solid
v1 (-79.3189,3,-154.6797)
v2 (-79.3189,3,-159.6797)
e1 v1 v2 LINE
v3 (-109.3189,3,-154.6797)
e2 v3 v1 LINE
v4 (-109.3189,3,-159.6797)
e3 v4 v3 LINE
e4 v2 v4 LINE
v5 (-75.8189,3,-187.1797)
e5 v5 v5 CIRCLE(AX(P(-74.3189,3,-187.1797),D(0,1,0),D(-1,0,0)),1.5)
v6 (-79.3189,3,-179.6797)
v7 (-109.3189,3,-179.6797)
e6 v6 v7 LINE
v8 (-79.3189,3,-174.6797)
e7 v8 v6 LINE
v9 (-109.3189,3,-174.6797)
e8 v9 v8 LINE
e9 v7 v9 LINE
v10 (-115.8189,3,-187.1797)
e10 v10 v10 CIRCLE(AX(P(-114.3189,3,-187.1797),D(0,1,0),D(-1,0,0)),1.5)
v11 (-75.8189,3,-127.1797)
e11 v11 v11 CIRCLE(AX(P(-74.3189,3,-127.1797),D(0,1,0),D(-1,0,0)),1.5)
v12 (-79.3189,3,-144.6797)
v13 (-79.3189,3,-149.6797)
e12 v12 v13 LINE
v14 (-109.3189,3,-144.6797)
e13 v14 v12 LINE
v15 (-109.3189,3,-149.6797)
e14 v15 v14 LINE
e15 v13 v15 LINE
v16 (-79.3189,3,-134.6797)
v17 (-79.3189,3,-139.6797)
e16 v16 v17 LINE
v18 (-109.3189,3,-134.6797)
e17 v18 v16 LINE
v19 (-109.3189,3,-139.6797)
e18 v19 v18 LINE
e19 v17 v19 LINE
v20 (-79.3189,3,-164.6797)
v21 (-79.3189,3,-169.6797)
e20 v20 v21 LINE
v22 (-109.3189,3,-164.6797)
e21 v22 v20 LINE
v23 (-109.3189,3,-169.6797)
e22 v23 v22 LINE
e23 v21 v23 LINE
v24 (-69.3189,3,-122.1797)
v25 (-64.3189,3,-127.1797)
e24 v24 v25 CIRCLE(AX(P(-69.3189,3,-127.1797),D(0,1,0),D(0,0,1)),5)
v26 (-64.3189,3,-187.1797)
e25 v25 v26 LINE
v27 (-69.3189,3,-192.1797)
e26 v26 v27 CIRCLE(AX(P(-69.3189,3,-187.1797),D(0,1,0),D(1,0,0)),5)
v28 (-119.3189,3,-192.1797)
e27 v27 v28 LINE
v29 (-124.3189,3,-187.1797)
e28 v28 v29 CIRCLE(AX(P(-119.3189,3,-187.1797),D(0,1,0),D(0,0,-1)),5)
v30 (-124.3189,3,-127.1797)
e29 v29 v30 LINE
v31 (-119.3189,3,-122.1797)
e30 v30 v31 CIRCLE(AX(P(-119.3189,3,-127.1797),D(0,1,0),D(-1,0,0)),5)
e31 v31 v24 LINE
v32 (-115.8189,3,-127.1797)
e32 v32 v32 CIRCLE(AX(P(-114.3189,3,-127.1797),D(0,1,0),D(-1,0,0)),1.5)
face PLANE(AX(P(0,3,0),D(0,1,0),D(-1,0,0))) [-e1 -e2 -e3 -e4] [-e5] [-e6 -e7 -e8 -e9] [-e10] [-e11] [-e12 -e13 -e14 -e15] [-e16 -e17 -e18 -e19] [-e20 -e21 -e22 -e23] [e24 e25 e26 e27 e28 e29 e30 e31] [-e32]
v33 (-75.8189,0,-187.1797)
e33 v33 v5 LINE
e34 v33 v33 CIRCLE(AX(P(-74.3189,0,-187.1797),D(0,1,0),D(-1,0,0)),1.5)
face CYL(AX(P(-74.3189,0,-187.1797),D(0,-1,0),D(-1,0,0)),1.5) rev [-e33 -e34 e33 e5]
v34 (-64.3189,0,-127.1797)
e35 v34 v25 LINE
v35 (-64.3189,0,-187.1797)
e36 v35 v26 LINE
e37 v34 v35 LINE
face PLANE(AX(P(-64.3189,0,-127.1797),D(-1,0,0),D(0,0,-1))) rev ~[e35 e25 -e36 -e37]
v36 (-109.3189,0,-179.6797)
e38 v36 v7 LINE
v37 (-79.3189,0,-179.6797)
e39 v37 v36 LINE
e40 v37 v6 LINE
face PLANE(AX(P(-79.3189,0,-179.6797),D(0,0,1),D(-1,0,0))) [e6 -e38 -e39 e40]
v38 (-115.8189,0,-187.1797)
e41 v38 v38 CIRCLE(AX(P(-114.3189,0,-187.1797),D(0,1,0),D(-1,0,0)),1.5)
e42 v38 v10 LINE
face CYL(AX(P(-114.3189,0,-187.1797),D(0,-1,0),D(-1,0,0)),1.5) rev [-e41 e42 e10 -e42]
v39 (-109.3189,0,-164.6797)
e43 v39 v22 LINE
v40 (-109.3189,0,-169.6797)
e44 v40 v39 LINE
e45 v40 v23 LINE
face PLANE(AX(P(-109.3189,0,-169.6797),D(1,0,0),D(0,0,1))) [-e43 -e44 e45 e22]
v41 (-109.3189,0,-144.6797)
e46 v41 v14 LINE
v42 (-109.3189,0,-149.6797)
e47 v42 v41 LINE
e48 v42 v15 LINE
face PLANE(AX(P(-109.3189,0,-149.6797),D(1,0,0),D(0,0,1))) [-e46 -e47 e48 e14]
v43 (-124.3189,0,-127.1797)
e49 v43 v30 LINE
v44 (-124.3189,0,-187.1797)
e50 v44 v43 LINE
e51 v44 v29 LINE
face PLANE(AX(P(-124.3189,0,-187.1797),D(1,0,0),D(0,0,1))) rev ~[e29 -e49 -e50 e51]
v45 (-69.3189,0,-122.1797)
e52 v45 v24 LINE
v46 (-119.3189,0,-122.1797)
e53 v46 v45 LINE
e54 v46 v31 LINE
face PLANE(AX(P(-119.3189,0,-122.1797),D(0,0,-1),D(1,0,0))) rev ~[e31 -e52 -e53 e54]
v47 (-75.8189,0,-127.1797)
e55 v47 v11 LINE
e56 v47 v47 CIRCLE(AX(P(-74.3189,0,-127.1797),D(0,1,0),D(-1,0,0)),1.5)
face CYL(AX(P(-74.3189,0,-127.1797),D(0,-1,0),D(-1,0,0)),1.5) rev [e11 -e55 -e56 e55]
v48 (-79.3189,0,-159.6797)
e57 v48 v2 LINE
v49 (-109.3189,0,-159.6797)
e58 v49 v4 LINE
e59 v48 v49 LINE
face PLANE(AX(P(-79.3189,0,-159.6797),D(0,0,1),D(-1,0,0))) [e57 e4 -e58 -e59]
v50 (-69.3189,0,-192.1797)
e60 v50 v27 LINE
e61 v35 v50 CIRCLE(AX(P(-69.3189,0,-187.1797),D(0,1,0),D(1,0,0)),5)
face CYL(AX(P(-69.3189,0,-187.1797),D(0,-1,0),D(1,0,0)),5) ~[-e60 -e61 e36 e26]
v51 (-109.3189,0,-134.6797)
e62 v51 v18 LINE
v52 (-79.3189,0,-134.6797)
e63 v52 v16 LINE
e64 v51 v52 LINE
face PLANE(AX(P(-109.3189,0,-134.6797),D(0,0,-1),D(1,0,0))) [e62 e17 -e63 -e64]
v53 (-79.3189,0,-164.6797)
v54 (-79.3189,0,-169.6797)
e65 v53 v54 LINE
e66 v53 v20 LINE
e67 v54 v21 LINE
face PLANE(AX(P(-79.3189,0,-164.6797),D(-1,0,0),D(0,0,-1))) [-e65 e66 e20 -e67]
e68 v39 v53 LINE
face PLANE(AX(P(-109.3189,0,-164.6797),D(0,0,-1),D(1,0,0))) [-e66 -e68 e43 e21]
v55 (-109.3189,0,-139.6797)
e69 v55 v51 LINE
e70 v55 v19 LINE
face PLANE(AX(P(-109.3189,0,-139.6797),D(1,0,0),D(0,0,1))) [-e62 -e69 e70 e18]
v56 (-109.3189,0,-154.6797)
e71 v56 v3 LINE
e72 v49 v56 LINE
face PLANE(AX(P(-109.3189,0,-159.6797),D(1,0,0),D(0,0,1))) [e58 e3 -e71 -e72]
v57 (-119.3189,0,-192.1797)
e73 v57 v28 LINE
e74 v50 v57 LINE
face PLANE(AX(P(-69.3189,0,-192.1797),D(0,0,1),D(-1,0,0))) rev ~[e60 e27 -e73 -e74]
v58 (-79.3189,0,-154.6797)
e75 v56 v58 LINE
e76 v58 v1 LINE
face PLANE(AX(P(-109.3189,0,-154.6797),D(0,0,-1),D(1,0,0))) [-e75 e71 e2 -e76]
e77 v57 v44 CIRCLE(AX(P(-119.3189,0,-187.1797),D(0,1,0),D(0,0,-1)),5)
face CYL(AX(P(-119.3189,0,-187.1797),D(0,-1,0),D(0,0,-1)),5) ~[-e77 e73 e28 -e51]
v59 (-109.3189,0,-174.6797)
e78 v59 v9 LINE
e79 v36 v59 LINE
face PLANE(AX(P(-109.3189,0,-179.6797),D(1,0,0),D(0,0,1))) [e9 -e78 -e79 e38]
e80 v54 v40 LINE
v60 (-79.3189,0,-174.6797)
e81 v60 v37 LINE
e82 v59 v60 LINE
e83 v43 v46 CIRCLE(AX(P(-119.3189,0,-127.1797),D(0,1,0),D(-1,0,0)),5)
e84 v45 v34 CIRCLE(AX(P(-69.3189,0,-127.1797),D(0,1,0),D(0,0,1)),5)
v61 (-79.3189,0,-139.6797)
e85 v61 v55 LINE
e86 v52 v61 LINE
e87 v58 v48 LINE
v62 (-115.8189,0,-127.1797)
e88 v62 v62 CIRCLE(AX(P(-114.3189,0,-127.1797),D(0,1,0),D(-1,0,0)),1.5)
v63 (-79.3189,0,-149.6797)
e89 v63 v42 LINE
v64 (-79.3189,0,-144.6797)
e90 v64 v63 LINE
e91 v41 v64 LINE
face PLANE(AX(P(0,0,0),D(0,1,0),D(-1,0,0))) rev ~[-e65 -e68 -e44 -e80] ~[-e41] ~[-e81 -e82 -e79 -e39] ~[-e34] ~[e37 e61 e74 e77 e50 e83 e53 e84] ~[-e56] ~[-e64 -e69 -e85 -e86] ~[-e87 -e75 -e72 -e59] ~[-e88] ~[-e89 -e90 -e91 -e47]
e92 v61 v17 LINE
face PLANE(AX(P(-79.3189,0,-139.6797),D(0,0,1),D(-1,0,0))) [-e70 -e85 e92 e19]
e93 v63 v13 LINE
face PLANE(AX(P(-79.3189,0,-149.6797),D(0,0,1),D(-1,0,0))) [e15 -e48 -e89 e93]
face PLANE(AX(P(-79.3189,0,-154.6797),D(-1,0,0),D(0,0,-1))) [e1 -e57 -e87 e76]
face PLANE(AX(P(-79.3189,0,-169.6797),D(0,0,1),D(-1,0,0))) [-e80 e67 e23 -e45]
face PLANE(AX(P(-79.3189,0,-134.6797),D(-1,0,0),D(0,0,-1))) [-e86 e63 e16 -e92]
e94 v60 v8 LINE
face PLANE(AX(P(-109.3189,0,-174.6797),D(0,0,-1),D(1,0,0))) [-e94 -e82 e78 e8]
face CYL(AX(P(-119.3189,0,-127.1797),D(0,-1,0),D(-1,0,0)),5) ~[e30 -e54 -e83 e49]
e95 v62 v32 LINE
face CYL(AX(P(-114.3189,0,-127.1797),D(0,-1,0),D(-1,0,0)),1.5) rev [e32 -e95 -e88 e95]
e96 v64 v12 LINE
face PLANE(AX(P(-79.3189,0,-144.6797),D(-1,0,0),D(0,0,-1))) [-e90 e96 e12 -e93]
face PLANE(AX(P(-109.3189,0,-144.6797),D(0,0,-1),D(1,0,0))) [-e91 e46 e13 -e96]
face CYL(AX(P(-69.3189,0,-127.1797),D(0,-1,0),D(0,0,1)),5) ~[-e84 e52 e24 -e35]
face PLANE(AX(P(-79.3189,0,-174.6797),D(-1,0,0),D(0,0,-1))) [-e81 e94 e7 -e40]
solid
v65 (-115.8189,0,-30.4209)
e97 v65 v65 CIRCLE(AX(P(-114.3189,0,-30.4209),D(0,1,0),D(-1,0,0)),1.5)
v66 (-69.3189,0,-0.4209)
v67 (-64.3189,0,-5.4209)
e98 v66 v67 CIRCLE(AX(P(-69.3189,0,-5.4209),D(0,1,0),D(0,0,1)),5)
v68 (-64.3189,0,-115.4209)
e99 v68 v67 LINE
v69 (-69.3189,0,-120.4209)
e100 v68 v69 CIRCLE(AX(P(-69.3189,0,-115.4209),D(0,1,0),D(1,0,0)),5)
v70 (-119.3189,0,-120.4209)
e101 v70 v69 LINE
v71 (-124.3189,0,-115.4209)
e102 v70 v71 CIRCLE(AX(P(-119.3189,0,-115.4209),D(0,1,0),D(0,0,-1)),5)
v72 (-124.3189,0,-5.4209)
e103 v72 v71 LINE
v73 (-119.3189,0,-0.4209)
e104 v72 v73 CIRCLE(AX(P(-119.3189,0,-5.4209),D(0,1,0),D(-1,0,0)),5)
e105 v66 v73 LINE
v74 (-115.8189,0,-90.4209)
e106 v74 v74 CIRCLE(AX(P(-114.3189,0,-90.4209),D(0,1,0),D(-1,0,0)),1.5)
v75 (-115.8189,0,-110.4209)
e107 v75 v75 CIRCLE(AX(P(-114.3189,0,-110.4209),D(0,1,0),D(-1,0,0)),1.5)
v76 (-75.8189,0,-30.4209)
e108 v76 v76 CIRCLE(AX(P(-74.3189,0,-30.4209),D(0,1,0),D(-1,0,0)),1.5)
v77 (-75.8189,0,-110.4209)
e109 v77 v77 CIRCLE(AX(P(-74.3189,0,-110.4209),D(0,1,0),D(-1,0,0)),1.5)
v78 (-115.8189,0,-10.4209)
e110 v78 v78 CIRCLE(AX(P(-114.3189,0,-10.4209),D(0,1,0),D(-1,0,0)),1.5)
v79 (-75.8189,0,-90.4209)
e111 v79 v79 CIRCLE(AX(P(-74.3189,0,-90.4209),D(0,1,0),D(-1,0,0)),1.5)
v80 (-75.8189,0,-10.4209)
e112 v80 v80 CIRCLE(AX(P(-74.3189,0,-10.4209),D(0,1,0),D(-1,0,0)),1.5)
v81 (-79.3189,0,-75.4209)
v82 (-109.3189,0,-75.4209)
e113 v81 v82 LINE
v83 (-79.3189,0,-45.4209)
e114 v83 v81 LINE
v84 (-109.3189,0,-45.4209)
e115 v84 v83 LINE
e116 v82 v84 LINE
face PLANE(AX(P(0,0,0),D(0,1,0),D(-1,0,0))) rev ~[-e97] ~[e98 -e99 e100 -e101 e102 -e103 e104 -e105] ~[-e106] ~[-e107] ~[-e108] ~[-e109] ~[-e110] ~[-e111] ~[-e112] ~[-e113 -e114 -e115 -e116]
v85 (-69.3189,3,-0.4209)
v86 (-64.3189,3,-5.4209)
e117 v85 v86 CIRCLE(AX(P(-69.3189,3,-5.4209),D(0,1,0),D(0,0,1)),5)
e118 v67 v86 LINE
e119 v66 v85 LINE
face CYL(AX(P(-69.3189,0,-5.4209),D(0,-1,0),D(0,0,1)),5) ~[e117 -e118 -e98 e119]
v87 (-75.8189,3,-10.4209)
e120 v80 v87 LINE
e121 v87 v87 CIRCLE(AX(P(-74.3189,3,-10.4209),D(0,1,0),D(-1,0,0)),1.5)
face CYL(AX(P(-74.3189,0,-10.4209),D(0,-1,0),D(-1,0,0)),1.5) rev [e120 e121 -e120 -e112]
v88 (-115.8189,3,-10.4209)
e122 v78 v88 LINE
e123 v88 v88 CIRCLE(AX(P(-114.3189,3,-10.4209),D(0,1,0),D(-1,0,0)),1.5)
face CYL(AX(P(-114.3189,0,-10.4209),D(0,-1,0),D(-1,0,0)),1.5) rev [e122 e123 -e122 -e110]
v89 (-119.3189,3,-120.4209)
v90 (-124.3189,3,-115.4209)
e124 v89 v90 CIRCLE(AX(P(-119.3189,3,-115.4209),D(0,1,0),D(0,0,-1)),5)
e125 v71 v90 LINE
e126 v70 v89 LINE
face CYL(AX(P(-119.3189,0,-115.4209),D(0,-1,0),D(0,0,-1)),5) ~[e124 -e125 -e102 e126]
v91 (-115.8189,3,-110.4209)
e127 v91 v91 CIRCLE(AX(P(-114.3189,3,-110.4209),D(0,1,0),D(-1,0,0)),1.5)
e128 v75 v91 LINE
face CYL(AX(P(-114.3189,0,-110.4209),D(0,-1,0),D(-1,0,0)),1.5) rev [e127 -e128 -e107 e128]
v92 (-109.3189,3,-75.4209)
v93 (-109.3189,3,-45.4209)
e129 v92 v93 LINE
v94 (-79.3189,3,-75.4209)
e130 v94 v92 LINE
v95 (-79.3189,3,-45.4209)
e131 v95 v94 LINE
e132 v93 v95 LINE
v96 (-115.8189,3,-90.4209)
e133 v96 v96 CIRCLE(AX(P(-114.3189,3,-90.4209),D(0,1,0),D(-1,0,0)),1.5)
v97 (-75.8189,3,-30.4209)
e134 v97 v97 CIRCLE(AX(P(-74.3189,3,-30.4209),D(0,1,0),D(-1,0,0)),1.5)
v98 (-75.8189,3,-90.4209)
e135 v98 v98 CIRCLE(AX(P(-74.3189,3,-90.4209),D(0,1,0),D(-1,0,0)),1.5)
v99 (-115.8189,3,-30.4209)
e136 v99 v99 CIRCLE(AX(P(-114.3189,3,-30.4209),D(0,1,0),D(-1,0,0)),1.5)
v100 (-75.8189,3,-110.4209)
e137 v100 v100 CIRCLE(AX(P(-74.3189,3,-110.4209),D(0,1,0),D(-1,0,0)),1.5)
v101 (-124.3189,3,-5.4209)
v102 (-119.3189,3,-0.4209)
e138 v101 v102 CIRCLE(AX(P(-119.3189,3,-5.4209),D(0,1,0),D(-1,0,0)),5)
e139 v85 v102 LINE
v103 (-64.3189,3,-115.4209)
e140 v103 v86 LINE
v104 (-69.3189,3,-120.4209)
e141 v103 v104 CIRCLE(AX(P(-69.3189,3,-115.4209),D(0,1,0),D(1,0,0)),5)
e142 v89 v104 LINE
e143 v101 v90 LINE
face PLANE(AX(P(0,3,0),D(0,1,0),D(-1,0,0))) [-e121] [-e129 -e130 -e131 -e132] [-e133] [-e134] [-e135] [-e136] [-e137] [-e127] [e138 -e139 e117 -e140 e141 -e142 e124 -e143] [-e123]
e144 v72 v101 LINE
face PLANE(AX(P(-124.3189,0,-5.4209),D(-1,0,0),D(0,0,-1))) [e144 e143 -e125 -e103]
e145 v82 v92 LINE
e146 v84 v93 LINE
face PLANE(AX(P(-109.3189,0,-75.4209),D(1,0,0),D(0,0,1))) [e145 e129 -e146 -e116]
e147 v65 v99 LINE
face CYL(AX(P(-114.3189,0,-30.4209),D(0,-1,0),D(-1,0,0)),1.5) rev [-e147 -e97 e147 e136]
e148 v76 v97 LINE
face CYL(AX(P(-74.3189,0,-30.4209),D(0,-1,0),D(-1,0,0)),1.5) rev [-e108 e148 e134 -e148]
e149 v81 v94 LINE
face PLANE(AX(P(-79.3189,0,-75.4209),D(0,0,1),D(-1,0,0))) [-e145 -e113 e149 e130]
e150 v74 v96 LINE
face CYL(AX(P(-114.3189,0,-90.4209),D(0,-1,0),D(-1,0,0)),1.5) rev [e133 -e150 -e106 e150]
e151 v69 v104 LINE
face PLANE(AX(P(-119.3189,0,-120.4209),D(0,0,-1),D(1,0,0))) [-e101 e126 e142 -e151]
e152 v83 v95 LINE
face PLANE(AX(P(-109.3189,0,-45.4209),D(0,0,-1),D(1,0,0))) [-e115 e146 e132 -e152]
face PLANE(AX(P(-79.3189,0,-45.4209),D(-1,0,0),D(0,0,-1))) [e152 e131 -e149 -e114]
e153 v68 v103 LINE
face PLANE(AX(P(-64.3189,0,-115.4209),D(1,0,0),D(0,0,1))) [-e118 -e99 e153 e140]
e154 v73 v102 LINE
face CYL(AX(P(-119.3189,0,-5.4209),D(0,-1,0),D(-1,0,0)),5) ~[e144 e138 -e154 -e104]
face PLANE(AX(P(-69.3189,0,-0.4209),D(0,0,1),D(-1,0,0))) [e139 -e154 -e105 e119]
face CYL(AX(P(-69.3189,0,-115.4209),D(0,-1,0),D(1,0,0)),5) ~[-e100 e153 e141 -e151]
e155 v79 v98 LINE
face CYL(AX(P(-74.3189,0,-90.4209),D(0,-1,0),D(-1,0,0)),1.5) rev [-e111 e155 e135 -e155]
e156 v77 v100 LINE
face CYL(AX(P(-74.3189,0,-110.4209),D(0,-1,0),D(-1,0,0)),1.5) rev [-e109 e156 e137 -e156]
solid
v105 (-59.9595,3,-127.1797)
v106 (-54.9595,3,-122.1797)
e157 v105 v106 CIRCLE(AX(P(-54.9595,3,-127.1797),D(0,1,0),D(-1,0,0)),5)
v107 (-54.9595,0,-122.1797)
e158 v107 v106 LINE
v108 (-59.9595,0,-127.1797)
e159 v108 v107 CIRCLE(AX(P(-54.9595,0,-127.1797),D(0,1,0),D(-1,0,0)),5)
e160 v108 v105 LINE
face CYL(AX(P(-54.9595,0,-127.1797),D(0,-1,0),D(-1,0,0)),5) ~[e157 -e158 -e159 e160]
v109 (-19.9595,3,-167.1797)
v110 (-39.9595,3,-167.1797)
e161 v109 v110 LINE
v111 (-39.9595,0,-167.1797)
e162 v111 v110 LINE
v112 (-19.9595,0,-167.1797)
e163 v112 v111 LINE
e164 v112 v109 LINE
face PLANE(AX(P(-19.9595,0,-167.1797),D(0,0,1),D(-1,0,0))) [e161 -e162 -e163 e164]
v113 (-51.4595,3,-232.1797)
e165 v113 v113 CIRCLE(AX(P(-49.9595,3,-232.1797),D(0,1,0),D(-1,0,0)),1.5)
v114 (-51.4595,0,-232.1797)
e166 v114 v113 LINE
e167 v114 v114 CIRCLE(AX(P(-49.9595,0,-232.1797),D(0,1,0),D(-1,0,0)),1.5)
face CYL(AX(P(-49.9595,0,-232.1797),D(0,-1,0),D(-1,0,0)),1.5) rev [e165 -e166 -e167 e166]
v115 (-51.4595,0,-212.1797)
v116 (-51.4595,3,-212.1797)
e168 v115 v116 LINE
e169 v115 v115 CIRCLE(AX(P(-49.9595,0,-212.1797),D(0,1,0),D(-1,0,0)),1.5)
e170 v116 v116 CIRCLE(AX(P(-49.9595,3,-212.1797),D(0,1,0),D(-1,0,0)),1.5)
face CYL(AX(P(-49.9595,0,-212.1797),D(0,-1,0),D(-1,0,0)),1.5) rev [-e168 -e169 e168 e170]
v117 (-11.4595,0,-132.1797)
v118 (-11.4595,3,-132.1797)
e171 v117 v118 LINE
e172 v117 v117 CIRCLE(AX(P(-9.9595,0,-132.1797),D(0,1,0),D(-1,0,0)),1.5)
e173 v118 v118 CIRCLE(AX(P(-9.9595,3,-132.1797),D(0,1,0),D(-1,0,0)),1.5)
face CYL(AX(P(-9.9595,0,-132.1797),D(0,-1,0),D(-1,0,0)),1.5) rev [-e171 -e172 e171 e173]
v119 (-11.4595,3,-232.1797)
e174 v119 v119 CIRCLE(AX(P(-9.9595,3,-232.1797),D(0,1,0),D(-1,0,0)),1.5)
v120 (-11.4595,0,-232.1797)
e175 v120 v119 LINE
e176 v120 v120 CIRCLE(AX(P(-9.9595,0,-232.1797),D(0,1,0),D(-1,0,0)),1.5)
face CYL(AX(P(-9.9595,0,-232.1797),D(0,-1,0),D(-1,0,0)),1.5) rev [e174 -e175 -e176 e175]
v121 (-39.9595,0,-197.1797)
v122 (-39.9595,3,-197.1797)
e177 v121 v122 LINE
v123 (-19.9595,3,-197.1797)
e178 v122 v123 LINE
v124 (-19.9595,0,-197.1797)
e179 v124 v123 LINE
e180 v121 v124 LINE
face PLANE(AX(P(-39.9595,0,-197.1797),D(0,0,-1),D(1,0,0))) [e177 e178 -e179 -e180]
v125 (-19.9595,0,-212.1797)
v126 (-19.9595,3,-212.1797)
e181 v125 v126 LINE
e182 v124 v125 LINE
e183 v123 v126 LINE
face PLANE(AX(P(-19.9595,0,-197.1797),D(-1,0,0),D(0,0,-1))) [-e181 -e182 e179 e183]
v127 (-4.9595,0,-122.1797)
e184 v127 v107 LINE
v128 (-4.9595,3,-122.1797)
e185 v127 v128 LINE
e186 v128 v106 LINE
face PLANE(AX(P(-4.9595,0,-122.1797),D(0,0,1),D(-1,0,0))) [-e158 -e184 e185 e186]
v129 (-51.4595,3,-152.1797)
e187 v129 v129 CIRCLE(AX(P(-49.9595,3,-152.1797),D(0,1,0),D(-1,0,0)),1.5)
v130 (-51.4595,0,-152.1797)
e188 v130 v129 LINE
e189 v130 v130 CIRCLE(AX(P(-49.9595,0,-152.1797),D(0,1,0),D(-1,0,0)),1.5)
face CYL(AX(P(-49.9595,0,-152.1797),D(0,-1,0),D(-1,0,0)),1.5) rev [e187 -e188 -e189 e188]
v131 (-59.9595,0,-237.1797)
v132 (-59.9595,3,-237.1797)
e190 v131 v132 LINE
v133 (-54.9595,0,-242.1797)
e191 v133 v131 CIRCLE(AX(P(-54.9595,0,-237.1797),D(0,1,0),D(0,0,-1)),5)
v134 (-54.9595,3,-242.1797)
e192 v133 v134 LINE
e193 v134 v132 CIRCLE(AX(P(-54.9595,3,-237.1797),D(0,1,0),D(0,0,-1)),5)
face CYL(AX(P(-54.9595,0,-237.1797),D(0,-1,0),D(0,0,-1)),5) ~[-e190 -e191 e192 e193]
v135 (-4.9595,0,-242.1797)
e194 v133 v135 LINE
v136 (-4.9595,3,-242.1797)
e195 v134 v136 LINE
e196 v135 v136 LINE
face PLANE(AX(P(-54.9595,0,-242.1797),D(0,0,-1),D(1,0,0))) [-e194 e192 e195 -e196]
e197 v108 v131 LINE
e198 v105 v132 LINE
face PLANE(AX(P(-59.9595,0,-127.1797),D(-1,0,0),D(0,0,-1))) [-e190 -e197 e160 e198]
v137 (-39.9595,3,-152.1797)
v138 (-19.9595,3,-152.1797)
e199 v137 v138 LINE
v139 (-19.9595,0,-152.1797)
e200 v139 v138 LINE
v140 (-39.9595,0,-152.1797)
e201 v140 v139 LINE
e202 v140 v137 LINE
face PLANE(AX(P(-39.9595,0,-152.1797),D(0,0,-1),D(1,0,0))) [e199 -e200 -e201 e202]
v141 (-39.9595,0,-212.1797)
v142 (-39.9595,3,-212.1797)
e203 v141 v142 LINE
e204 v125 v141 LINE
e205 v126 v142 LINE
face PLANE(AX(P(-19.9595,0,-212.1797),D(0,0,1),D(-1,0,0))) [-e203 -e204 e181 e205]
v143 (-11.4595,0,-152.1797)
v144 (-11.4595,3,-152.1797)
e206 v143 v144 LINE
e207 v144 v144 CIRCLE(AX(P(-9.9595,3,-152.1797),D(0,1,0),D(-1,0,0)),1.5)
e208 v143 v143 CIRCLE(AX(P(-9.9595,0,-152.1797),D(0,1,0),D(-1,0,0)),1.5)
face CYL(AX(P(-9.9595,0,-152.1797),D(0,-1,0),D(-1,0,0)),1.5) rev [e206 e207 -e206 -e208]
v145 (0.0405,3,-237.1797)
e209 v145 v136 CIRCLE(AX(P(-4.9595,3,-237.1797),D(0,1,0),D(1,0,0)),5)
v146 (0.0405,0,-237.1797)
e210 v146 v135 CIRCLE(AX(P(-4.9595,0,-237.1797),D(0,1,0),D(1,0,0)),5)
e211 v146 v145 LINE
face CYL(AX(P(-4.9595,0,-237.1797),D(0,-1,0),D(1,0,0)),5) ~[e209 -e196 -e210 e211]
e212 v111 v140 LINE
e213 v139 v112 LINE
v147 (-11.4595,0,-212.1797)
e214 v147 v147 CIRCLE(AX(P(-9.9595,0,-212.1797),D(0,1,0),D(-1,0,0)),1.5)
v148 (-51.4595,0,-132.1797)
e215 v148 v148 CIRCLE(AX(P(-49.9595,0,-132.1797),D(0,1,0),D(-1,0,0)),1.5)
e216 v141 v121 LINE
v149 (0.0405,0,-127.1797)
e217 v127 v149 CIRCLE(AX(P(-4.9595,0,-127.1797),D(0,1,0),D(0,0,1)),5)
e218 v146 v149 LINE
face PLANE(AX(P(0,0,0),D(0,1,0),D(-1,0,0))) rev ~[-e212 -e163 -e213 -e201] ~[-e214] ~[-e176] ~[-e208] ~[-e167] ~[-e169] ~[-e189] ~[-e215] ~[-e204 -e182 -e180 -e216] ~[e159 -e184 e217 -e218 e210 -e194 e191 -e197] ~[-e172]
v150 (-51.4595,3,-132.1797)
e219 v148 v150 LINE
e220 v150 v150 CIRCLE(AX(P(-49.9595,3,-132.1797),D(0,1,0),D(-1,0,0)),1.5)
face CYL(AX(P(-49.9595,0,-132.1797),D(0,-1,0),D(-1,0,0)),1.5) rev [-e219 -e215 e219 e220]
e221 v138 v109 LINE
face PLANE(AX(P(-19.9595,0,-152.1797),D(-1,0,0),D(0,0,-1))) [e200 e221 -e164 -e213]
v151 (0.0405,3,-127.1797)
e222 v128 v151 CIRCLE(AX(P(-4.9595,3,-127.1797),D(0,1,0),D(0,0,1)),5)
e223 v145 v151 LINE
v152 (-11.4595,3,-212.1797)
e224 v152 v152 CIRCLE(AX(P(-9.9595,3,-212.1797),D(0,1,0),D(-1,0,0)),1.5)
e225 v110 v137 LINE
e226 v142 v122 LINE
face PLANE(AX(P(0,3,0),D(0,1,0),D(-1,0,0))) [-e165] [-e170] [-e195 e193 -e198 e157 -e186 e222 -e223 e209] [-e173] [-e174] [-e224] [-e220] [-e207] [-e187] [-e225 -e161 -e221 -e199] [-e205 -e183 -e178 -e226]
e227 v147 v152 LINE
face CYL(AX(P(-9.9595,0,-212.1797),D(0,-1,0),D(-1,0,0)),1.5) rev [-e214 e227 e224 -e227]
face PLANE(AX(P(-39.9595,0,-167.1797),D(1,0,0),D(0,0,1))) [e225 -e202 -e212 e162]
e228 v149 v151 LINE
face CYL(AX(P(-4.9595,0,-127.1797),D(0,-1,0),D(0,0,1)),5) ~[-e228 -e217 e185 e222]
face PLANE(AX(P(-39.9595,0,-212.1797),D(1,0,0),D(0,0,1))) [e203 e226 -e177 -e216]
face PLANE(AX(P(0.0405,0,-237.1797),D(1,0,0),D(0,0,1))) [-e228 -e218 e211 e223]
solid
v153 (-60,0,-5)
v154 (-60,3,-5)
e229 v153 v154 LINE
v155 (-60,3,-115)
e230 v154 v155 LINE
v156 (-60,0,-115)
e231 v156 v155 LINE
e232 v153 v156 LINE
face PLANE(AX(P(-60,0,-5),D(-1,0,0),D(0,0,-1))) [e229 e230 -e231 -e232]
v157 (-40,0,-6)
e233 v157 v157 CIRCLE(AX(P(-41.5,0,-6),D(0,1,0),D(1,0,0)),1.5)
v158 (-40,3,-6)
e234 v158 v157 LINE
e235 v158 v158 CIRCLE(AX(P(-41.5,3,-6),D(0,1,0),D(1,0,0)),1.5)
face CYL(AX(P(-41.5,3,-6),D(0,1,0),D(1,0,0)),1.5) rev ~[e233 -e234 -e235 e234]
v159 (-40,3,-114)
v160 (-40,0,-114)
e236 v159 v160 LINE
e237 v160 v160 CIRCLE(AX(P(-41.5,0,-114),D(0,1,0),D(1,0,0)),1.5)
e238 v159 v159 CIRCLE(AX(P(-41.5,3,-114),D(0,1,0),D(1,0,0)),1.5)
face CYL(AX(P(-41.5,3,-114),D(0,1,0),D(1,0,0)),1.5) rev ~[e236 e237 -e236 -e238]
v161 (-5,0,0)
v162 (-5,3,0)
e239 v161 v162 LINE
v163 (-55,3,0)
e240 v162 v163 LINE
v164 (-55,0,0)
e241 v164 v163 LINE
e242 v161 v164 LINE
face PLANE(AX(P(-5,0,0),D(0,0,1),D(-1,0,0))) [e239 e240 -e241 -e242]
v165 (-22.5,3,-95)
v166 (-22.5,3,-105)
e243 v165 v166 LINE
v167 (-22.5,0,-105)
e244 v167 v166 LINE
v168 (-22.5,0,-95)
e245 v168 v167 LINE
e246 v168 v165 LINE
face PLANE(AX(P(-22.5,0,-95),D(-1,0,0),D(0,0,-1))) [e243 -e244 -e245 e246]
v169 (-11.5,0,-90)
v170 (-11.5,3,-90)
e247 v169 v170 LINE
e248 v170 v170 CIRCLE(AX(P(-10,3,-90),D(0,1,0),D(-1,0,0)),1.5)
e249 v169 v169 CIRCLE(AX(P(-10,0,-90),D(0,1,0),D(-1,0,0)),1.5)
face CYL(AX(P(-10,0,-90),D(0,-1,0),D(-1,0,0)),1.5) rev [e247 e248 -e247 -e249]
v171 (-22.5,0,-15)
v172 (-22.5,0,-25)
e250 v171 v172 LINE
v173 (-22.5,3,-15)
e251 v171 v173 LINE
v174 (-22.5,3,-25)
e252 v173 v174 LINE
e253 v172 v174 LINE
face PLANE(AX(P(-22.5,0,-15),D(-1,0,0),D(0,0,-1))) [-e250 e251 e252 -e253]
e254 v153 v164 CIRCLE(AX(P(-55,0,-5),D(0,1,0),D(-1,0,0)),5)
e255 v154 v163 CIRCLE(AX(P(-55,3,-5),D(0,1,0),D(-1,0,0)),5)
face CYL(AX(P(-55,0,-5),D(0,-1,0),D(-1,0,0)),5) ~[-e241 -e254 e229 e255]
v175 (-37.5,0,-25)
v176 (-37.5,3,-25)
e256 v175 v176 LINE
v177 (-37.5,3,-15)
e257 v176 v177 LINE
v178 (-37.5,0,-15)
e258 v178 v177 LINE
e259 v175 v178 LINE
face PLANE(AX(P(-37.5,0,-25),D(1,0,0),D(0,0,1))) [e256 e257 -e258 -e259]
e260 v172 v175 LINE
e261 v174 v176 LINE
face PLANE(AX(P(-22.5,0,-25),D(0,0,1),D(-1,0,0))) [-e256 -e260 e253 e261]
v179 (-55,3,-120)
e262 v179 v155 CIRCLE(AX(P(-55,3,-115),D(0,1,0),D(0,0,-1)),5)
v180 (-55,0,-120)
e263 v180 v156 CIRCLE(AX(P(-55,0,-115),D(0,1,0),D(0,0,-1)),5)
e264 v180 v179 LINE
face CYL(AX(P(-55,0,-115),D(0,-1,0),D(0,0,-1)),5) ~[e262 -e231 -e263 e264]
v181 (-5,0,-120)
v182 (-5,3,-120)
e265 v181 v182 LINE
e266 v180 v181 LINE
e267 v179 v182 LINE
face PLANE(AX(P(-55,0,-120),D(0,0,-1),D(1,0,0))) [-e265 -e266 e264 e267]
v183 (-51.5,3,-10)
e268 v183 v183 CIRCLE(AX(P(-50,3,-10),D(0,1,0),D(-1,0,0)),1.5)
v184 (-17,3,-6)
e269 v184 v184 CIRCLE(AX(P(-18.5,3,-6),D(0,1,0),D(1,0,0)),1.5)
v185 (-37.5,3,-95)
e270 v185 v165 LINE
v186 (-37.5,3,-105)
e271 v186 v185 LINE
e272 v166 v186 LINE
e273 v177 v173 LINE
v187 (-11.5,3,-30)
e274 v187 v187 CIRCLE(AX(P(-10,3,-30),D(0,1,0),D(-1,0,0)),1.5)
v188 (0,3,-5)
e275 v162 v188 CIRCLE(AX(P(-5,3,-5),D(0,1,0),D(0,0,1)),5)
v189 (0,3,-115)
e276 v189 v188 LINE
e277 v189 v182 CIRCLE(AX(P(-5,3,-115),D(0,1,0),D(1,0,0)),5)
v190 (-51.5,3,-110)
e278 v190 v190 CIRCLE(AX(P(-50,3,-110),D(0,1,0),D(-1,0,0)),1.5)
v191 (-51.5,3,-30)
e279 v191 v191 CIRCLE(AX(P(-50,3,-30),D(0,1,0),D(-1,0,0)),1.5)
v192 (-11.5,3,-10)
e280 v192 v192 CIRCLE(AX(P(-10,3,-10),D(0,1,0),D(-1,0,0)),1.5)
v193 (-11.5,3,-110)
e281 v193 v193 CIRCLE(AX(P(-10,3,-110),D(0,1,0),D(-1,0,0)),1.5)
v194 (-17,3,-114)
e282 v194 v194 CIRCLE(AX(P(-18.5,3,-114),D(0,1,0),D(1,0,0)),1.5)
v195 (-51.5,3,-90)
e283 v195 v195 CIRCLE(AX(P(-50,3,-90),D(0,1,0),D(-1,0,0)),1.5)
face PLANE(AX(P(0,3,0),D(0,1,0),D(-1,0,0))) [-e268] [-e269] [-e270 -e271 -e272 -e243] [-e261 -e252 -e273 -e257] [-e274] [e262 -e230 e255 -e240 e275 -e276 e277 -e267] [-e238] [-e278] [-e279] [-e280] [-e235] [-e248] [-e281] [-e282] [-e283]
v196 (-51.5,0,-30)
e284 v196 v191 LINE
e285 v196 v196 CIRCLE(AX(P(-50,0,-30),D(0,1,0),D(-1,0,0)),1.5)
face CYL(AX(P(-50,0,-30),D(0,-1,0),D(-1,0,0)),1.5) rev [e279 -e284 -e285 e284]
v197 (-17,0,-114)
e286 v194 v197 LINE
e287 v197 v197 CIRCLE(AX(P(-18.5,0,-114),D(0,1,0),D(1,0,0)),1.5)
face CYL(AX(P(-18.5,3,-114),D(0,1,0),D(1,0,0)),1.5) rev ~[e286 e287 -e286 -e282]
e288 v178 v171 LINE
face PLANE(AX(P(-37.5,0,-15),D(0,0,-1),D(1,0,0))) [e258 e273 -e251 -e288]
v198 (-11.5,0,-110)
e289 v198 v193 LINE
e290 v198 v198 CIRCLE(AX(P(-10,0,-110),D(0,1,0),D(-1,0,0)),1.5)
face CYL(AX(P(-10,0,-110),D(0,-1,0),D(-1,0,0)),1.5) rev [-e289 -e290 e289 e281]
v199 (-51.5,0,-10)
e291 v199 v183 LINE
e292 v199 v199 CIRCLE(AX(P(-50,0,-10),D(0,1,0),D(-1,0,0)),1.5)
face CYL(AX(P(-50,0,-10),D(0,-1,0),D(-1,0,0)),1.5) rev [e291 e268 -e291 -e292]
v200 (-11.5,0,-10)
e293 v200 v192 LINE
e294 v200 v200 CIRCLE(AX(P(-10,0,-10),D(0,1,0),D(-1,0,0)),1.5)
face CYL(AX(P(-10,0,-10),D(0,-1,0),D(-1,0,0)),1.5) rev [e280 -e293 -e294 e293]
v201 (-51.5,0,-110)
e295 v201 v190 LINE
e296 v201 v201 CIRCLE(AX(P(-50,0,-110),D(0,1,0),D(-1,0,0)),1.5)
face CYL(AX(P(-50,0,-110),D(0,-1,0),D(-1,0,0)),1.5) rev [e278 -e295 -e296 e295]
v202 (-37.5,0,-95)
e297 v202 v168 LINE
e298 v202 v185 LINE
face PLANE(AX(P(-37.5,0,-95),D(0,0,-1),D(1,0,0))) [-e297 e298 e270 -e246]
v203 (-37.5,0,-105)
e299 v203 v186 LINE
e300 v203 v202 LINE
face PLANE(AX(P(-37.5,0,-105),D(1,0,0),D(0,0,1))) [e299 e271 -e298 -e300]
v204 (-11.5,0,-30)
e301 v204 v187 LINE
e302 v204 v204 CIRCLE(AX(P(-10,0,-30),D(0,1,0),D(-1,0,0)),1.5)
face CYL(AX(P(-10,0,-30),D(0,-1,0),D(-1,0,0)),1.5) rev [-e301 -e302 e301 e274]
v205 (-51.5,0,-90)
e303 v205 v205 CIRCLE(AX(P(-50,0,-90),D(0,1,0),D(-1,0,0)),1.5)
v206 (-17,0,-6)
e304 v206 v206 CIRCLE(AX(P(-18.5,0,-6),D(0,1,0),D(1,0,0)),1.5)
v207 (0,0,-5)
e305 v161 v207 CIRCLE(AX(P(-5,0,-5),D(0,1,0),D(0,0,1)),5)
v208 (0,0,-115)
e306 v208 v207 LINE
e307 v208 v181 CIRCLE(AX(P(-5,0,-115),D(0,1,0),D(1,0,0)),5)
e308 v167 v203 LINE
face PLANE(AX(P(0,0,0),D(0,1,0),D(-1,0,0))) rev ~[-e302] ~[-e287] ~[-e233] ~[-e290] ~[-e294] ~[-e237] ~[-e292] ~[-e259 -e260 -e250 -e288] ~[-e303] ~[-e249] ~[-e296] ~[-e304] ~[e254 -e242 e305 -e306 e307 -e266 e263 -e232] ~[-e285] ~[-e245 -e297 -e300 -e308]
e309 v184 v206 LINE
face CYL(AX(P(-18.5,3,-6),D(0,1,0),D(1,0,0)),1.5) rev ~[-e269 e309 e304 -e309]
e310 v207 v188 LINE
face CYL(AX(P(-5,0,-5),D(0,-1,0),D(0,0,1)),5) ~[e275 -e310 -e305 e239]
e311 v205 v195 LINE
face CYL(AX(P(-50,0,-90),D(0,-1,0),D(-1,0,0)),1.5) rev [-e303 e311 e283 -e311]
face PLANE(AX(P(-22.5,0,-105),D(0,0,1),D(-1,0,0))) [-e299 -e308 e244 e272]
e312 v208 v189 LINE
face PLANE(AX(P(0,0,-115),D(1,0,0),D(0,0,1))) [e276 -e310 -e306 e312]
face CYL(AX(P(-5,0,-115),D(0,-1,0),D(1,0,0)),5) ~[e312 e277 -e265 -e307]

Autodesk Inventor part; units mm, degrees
ref_plane "YZ Plane" through (0, 0, 0) normal (1, 0, 0) x (0, 1, 0)
ref_plane "XZ Plane" through (0, 0, 0) normal (0, 1, 0) x (-1, 0, 0)
ref_plane "XY Plane" through (0, 0, 0) normal (0, 0, 1) x (1, 0, 0)
sketch "Boceto1" plane through (0, 0, 0) normal (0, 1, 0) x (-1, 0, 0)
  line L0 (5, 0) -> (55, 0)
  line L1 (60, -5) -> (60, -115)
  line L2 (55, -120) -> (5, -120)
  line L3 (0, -115) -> (0, -5)
  line L4 (37.5, -95) -> (22.5, -95)
  line L5 (22.5, -95) -> (22.5, -105)
  line L6 (22.5, -105) -> (37.5, -105)
  line L7 (37.5, -105) -> (37.5, -95)
  circle A0 centre (50, -10) radius 1.5
  line L8 (37.5, -15) -> (22.5, -15)
  line L9 (22.5, -15) -> (22.5, -25)
  line L10 (22.5, -25) -> (37.5, -25)
  line L11 (37.5, -25) -> (37.5, -15)
  circle A1 centre (10, -10) radius 1.5
  circle A2 centre (10, -110) radius 1.5
  circle A3 centre (50, -110) radius 1.5
  line L12 (69.3189, -0.4209) -> (119.3189, -0.4209)
  line L13 (124.3189, -5.4209) -> (124.3189, -115.4209)
  line L14 (119.3189, -120.4209) -> (69.3189, -120.4209)
  line L15 (64.3189, -115.4209) -> (64.3189, -5.4209)
  circle A4 centre (114.3189, -10.4209) radius 1.5
  circle A5 centre (74.3189, -10.4209) radius 1.5
  circle A6 centre (74.3189, -110.4209) radius 1.5
  circle A7 centre (114.3189, -110.4209) radius 1.5
  circle A8 centre (114.3189, -30.4209) radius 1.5
  circle A9 centre (74.3189, -30.4209) radius 1.5
  circle A10 centre (114.3189, -90.4209) radius 1.5
  circle A11 centre (74.3189, -90.4209) radius 1.5
  line L16 (109.3189, -45.4209) -> (79.3189, -45.4209)
  line L17 (79.3189, -45.4209) -> (79.3189, -75.4209)
  line L18 (79.3189, -75.4209) -> (109.3189, -75.4209)
  line L19 (109.3189, -75.4209) -> (109.3189, -45.4209)
  arc A12 (60, -5) -> (55, 0) centre (55, -5) ccw
  arc A13 (5, 0) -> (0, -5) centre (5, -5) ccw
  arc A14 (0, -115) -> (5, -120) centre (5, -115) ccw
  arc A15 (55, -120) -> (60, -115) centre (55, -115) ccw
  arc A16 (69.3189, -0.4209) -> (64.3189, -5.4209) centre (69.3189, -5.4209) ccw
  arc A17 (124.3189, -5.4209) -> (119.3189, -0.4209) centre (119.3189, -5.4209) ccw
  arc A18 (119.3189, -120.4209) -> (124.3189, -115.4209) centre (119.3189, -115.4209) ccw
  arc A19 (64.3189, -115.4209) -> (69.3189, -120.4209) centre (69.3189, -115.4209) ccw
  circle A20 centre (50, -30) radius 1.5
  circle A21 centre (50, -90) radius 1.5
  circle A22 centre (10, -30) radius 1.5
  circle A23 centre (10, -90) radius 1.5
  circle A24 centre (49.9595, -232.1797) radius 1.5
  circle A25 centre (9.9595, -232.1797) radius 1.5
  line L20 (54.9595, -242.1797) -> (4.9595, -242.1797)
  line L21 (59.9595, -127.1797) -> (59.9595, -237.1797)
  line L22 (-0.0405, -237.1797) -> (-0.0405, -127.1797)
  circle A26 centre (9.9595, -132.1797) radius 1.5
  line L23 (4.9595, -122.1797) -> (54.9595, -122.1797)
  circle A27 centre (49.9595, -132.1797) radius 1.5
  circle A28 centre (49.9595, -152.1797) radius 1.5
  circle A29 centre (9.9595, -152.1797) radius 1.5
  circle A30 centre (49.9595, -212.1797) radius 1.5
  circle A31 centre (9.9595, -212.1797) radius 1.5
  line L24 (39.9595, -152.1797) -> (19.9595, -152.1797)
  line L25 (19.9595, -152.1797) -> (19.9595, -167.1797)
  line L26 (19.9595, -167.1797) -> (39.9595, -167.1797)
  line L27 (39.9595, -167.1797) -> (39.9595, -152.1797)
  arc A32 (4.9595, -122.1797) -> (-0.0405, -127.1797) centre (4.9595, -127.1797) ccw
  arc A33 (59.9595, -127.1797) -> (54.9595, -122.1797) centre (54.9595, -127.1797) ccw
  arc A34 (54.9595, -242.1797) -> (59.9595, -237.1797) centre (54.9595, -237.1797) ccw
  arc A35 (-0.0405, -237.1797) -> (4.9595, -242.1797) centre (4.9595, -237.1797) ccw
  line L28 (39.9595, -212.1797) -> (39.9595, -197.1797)
  line L29 (39.9595, -197.1797) -> (19.9595, -197.1797)
  line L30 (19.9595, -197.1797) -> (19.9595, -212.1797)
  line L31 (19.9595, -212.1797) -> (39.9595, -212.1797)
  line L32 (119.3189, -122.1797) -> (69.3189, -122.1797)
  line L33 (64.3189, -127.1797) -> (64.3189, -187.1797)
  line L34 (69.3189, -192.1797) -> (119.3189, -192.1797)
  line L35 (124.3189, -187.1797) -> (124.3189, -127.1797)
  circle A36 centre (114.3189, -127.1797) radius 1.5
  circle A37 centre (74.3189, -127.1797) radius 1.5
  circle A38 centre (74.3189, -187.1797) radius 1.5
  circle A39 centre (114.3189, -187.1797) radius 1.5
  arc A40 (69.3189, -122.1797) -> (64.3189, -127.1797) centre (69.3189, -127.1797) ccw
  arc A41 (124.3189, -127.1797) -> (119.3189, -122.1797) centre (119.3189, -127.1797) ccw
  arc A42 (119.3189, -192.1797) -> (124.3189, -187.1797) centre (119.3189, -187.1797) ccw
  arc A43 (64.3189, -187.1797) -> (69.3189, -192.1797) centre (69.3189, -187.1797) ccw
  line L36 (109.3189, -134.6797) -> (79.3189, -134.6797)
  line L37 (79.3189, -134.6797) -> (79.3189, -139.6797)
  line L38 (79.3189, -139.6797) -> (109.3189, -139.6797)
  line L39 (109.3189, -139.6797) -> (109.3189, -134.6797)
  line L40 (109.3189, -154.6797) -> (79.3189, -154.6797)
  line L41 (79.3189, -154.6797) -> (79.3189, -159.6797)
  line L42 (79.3189, -159.6797) -> (109.3189, -159.6797)
  line L43 (109.3189, -159.6797) -> (109.3189, -154.6797)
  line L44 (109.3189, -174.6797) -> (79.3189, -174.6797)
  line L45 (79.3189, -174.6797) -> (79.3189, -179.6797)
  line L46 (79.3189, -179.6797) -> (109.3189, -179.6797)
  line L47 (109.3189, -179.6797) -> (109.3189, -174.6797)
  line L48 (109.3189, -144.6797) -> (79.3189, -144.6797)
  line L49 (79.3189, -144.6797) -> (79.3189, -149.6797)
  line L50 (79.3189, -149.6797) -> (109.3189, -149.6797)
  line L51 (109.3189, -149.6797) -> (109.3189, -144.6797)
  line L52 (109.3189, -164.6797) -> (79.3189, -164.6797)
  line L53 (79.3189, -164.6797) -> (79.3189, -169.6797)
  line L54 (79.3189, -169.6797) -> (109.3189, -169.6797)
  line L55 (109.3189, -169.6797) -> (109.3189, -164.6797)
  point P0 (0, 0)
  point P1 (60, -120)
  point P2 (60, 0)
  point P3 (0, -120)
  point P4 (22.5, -100)
  point P5 (22.5, -20)
  point P6 (30, -15)
  point P7 (124.3189, -120.4209)
  point P8 (124.3189, -0.4209)
  point P9 (64.3189, -120.4209)
  point P10 (94.3189, -0.4209)
  point P11 (94.3189, -45.4209)
  point P12 (59.9595, -242.1797)
  point P13 (-0.0405, -242.1797)
  point P14 (59.9595, -122.1797)
  point P15 (29.9595, -122.1797)
  point P16 (29.9595, -152.1797)
  point P17 (29.9595, -197.1797)
  point P18 (29.9595, -212.1797)
  point P19 (79.3189, -147.1797)
  point P20 (79.3189, -167.1797)
  dimension "d0" = 60
  dimension "d1" = 120
  dimension "d2" = 15
  dimension "d3" = 10
  dimension "d4" = 3
  dimension "d5" = 15
  dimension "d6" = 22.5
  dimension "d7" = 15
  dimension "d8" = 10
  dimension "d9" = 3
  dimension "d10" = 3
  dimension "d11" = 3
  dimension "d12" = 22.5
  dimension "d13" = 15
  dimension "d14" = 10
  dimension "d15" = 10
  dimension "d16" = 10
  dimension "d17" = 10
  dimension "d18" = 10
  dimension "d19" = 10
  dimension "d20" = 10
  dimension "d21" = 10
  dimension "d22" = 60
  dimension "d23" = 120
  dimension "d26" = 3
  dimension "d32" = 3
  dimension "d33" = 3
  dimension "d36" = 10
  dimension "d37" = 10
  dimension "d39" = 10
  dimension "d40" = 10
  dimension "d41" = 10
  dimension "d42" = 10
  dimension "d43" = 10
  dimension "d44" = 3
  dimension "d45" = 3
  dimension "d46" = 3
  dimension "d47" = 3
  dimension "d48" = 10
  dimension "d49" = 10
  dimension "d50" = 10
  dimension "d51" = 10
  dimension "d52" = 60
  dimension "d53" = 30
  dimension "d54" = 60
  dimension "d55" = 30
  dimension "d56" = 30
  dimension "d57" = 30
  dimension "d58" = 45
  dimension "d59" = 5
  dimension "d60" = 5
  dimension "d61" = 5
  dimension "d62" = 5
  dimension "d63" = 3
  dimension "d64" = 3
  dimension "d65" = 3
  dimension "d66" = 3
  dimension "d67" = 10
  dimension "d68" = 10
  dimension "d69" = 10
  dimension "d70" = 10
  dimension "d71" = 30
  dimension "d72" = 30
  dimension "d73" = 30
extrude "Extrusión1" add sketch "Boceto1" along normal blind 3
sketch "Boceto2" plane through (0, 3, 0) normal (0, 1, 0) x (1, 0, 0)
  circle A0 centre (-41.5, 6) radius 1.5
  circle A1 centre (-18.5, 6) radius 1.5
  line L0 (-55, 0) -> (-5, 0) projected
  line L1 (0, 5) -> (0, 115) projected
  line L2 (-60, 115) -> (-60, 5) projected
  circle A2 centre (-41.5, 114) radius 1.5
  circle A3 centre (-18.5, 114) radius 1.5
  line L3 (-5, 120) -> (-55, 120) projected
  point P0 (0, 0)
  dimension "d147" = 3
  dimension "d148" = 3
  dimension "d151" = 20
  dimension "d152" = 6
  dimension "d153" = 6
  dimension "d154" = 18.5
  dimension "d155" = 18.5
  dimension "d156" = 3
  dimension "d157" = 3
  dimension "d158" = 20
  dimension "d161" = 6
  dimension "d162" = 6
  dimension "d163" = 18.5
extrude "Extrusión2" cut sketch "Boceto2" against normal blind 3
